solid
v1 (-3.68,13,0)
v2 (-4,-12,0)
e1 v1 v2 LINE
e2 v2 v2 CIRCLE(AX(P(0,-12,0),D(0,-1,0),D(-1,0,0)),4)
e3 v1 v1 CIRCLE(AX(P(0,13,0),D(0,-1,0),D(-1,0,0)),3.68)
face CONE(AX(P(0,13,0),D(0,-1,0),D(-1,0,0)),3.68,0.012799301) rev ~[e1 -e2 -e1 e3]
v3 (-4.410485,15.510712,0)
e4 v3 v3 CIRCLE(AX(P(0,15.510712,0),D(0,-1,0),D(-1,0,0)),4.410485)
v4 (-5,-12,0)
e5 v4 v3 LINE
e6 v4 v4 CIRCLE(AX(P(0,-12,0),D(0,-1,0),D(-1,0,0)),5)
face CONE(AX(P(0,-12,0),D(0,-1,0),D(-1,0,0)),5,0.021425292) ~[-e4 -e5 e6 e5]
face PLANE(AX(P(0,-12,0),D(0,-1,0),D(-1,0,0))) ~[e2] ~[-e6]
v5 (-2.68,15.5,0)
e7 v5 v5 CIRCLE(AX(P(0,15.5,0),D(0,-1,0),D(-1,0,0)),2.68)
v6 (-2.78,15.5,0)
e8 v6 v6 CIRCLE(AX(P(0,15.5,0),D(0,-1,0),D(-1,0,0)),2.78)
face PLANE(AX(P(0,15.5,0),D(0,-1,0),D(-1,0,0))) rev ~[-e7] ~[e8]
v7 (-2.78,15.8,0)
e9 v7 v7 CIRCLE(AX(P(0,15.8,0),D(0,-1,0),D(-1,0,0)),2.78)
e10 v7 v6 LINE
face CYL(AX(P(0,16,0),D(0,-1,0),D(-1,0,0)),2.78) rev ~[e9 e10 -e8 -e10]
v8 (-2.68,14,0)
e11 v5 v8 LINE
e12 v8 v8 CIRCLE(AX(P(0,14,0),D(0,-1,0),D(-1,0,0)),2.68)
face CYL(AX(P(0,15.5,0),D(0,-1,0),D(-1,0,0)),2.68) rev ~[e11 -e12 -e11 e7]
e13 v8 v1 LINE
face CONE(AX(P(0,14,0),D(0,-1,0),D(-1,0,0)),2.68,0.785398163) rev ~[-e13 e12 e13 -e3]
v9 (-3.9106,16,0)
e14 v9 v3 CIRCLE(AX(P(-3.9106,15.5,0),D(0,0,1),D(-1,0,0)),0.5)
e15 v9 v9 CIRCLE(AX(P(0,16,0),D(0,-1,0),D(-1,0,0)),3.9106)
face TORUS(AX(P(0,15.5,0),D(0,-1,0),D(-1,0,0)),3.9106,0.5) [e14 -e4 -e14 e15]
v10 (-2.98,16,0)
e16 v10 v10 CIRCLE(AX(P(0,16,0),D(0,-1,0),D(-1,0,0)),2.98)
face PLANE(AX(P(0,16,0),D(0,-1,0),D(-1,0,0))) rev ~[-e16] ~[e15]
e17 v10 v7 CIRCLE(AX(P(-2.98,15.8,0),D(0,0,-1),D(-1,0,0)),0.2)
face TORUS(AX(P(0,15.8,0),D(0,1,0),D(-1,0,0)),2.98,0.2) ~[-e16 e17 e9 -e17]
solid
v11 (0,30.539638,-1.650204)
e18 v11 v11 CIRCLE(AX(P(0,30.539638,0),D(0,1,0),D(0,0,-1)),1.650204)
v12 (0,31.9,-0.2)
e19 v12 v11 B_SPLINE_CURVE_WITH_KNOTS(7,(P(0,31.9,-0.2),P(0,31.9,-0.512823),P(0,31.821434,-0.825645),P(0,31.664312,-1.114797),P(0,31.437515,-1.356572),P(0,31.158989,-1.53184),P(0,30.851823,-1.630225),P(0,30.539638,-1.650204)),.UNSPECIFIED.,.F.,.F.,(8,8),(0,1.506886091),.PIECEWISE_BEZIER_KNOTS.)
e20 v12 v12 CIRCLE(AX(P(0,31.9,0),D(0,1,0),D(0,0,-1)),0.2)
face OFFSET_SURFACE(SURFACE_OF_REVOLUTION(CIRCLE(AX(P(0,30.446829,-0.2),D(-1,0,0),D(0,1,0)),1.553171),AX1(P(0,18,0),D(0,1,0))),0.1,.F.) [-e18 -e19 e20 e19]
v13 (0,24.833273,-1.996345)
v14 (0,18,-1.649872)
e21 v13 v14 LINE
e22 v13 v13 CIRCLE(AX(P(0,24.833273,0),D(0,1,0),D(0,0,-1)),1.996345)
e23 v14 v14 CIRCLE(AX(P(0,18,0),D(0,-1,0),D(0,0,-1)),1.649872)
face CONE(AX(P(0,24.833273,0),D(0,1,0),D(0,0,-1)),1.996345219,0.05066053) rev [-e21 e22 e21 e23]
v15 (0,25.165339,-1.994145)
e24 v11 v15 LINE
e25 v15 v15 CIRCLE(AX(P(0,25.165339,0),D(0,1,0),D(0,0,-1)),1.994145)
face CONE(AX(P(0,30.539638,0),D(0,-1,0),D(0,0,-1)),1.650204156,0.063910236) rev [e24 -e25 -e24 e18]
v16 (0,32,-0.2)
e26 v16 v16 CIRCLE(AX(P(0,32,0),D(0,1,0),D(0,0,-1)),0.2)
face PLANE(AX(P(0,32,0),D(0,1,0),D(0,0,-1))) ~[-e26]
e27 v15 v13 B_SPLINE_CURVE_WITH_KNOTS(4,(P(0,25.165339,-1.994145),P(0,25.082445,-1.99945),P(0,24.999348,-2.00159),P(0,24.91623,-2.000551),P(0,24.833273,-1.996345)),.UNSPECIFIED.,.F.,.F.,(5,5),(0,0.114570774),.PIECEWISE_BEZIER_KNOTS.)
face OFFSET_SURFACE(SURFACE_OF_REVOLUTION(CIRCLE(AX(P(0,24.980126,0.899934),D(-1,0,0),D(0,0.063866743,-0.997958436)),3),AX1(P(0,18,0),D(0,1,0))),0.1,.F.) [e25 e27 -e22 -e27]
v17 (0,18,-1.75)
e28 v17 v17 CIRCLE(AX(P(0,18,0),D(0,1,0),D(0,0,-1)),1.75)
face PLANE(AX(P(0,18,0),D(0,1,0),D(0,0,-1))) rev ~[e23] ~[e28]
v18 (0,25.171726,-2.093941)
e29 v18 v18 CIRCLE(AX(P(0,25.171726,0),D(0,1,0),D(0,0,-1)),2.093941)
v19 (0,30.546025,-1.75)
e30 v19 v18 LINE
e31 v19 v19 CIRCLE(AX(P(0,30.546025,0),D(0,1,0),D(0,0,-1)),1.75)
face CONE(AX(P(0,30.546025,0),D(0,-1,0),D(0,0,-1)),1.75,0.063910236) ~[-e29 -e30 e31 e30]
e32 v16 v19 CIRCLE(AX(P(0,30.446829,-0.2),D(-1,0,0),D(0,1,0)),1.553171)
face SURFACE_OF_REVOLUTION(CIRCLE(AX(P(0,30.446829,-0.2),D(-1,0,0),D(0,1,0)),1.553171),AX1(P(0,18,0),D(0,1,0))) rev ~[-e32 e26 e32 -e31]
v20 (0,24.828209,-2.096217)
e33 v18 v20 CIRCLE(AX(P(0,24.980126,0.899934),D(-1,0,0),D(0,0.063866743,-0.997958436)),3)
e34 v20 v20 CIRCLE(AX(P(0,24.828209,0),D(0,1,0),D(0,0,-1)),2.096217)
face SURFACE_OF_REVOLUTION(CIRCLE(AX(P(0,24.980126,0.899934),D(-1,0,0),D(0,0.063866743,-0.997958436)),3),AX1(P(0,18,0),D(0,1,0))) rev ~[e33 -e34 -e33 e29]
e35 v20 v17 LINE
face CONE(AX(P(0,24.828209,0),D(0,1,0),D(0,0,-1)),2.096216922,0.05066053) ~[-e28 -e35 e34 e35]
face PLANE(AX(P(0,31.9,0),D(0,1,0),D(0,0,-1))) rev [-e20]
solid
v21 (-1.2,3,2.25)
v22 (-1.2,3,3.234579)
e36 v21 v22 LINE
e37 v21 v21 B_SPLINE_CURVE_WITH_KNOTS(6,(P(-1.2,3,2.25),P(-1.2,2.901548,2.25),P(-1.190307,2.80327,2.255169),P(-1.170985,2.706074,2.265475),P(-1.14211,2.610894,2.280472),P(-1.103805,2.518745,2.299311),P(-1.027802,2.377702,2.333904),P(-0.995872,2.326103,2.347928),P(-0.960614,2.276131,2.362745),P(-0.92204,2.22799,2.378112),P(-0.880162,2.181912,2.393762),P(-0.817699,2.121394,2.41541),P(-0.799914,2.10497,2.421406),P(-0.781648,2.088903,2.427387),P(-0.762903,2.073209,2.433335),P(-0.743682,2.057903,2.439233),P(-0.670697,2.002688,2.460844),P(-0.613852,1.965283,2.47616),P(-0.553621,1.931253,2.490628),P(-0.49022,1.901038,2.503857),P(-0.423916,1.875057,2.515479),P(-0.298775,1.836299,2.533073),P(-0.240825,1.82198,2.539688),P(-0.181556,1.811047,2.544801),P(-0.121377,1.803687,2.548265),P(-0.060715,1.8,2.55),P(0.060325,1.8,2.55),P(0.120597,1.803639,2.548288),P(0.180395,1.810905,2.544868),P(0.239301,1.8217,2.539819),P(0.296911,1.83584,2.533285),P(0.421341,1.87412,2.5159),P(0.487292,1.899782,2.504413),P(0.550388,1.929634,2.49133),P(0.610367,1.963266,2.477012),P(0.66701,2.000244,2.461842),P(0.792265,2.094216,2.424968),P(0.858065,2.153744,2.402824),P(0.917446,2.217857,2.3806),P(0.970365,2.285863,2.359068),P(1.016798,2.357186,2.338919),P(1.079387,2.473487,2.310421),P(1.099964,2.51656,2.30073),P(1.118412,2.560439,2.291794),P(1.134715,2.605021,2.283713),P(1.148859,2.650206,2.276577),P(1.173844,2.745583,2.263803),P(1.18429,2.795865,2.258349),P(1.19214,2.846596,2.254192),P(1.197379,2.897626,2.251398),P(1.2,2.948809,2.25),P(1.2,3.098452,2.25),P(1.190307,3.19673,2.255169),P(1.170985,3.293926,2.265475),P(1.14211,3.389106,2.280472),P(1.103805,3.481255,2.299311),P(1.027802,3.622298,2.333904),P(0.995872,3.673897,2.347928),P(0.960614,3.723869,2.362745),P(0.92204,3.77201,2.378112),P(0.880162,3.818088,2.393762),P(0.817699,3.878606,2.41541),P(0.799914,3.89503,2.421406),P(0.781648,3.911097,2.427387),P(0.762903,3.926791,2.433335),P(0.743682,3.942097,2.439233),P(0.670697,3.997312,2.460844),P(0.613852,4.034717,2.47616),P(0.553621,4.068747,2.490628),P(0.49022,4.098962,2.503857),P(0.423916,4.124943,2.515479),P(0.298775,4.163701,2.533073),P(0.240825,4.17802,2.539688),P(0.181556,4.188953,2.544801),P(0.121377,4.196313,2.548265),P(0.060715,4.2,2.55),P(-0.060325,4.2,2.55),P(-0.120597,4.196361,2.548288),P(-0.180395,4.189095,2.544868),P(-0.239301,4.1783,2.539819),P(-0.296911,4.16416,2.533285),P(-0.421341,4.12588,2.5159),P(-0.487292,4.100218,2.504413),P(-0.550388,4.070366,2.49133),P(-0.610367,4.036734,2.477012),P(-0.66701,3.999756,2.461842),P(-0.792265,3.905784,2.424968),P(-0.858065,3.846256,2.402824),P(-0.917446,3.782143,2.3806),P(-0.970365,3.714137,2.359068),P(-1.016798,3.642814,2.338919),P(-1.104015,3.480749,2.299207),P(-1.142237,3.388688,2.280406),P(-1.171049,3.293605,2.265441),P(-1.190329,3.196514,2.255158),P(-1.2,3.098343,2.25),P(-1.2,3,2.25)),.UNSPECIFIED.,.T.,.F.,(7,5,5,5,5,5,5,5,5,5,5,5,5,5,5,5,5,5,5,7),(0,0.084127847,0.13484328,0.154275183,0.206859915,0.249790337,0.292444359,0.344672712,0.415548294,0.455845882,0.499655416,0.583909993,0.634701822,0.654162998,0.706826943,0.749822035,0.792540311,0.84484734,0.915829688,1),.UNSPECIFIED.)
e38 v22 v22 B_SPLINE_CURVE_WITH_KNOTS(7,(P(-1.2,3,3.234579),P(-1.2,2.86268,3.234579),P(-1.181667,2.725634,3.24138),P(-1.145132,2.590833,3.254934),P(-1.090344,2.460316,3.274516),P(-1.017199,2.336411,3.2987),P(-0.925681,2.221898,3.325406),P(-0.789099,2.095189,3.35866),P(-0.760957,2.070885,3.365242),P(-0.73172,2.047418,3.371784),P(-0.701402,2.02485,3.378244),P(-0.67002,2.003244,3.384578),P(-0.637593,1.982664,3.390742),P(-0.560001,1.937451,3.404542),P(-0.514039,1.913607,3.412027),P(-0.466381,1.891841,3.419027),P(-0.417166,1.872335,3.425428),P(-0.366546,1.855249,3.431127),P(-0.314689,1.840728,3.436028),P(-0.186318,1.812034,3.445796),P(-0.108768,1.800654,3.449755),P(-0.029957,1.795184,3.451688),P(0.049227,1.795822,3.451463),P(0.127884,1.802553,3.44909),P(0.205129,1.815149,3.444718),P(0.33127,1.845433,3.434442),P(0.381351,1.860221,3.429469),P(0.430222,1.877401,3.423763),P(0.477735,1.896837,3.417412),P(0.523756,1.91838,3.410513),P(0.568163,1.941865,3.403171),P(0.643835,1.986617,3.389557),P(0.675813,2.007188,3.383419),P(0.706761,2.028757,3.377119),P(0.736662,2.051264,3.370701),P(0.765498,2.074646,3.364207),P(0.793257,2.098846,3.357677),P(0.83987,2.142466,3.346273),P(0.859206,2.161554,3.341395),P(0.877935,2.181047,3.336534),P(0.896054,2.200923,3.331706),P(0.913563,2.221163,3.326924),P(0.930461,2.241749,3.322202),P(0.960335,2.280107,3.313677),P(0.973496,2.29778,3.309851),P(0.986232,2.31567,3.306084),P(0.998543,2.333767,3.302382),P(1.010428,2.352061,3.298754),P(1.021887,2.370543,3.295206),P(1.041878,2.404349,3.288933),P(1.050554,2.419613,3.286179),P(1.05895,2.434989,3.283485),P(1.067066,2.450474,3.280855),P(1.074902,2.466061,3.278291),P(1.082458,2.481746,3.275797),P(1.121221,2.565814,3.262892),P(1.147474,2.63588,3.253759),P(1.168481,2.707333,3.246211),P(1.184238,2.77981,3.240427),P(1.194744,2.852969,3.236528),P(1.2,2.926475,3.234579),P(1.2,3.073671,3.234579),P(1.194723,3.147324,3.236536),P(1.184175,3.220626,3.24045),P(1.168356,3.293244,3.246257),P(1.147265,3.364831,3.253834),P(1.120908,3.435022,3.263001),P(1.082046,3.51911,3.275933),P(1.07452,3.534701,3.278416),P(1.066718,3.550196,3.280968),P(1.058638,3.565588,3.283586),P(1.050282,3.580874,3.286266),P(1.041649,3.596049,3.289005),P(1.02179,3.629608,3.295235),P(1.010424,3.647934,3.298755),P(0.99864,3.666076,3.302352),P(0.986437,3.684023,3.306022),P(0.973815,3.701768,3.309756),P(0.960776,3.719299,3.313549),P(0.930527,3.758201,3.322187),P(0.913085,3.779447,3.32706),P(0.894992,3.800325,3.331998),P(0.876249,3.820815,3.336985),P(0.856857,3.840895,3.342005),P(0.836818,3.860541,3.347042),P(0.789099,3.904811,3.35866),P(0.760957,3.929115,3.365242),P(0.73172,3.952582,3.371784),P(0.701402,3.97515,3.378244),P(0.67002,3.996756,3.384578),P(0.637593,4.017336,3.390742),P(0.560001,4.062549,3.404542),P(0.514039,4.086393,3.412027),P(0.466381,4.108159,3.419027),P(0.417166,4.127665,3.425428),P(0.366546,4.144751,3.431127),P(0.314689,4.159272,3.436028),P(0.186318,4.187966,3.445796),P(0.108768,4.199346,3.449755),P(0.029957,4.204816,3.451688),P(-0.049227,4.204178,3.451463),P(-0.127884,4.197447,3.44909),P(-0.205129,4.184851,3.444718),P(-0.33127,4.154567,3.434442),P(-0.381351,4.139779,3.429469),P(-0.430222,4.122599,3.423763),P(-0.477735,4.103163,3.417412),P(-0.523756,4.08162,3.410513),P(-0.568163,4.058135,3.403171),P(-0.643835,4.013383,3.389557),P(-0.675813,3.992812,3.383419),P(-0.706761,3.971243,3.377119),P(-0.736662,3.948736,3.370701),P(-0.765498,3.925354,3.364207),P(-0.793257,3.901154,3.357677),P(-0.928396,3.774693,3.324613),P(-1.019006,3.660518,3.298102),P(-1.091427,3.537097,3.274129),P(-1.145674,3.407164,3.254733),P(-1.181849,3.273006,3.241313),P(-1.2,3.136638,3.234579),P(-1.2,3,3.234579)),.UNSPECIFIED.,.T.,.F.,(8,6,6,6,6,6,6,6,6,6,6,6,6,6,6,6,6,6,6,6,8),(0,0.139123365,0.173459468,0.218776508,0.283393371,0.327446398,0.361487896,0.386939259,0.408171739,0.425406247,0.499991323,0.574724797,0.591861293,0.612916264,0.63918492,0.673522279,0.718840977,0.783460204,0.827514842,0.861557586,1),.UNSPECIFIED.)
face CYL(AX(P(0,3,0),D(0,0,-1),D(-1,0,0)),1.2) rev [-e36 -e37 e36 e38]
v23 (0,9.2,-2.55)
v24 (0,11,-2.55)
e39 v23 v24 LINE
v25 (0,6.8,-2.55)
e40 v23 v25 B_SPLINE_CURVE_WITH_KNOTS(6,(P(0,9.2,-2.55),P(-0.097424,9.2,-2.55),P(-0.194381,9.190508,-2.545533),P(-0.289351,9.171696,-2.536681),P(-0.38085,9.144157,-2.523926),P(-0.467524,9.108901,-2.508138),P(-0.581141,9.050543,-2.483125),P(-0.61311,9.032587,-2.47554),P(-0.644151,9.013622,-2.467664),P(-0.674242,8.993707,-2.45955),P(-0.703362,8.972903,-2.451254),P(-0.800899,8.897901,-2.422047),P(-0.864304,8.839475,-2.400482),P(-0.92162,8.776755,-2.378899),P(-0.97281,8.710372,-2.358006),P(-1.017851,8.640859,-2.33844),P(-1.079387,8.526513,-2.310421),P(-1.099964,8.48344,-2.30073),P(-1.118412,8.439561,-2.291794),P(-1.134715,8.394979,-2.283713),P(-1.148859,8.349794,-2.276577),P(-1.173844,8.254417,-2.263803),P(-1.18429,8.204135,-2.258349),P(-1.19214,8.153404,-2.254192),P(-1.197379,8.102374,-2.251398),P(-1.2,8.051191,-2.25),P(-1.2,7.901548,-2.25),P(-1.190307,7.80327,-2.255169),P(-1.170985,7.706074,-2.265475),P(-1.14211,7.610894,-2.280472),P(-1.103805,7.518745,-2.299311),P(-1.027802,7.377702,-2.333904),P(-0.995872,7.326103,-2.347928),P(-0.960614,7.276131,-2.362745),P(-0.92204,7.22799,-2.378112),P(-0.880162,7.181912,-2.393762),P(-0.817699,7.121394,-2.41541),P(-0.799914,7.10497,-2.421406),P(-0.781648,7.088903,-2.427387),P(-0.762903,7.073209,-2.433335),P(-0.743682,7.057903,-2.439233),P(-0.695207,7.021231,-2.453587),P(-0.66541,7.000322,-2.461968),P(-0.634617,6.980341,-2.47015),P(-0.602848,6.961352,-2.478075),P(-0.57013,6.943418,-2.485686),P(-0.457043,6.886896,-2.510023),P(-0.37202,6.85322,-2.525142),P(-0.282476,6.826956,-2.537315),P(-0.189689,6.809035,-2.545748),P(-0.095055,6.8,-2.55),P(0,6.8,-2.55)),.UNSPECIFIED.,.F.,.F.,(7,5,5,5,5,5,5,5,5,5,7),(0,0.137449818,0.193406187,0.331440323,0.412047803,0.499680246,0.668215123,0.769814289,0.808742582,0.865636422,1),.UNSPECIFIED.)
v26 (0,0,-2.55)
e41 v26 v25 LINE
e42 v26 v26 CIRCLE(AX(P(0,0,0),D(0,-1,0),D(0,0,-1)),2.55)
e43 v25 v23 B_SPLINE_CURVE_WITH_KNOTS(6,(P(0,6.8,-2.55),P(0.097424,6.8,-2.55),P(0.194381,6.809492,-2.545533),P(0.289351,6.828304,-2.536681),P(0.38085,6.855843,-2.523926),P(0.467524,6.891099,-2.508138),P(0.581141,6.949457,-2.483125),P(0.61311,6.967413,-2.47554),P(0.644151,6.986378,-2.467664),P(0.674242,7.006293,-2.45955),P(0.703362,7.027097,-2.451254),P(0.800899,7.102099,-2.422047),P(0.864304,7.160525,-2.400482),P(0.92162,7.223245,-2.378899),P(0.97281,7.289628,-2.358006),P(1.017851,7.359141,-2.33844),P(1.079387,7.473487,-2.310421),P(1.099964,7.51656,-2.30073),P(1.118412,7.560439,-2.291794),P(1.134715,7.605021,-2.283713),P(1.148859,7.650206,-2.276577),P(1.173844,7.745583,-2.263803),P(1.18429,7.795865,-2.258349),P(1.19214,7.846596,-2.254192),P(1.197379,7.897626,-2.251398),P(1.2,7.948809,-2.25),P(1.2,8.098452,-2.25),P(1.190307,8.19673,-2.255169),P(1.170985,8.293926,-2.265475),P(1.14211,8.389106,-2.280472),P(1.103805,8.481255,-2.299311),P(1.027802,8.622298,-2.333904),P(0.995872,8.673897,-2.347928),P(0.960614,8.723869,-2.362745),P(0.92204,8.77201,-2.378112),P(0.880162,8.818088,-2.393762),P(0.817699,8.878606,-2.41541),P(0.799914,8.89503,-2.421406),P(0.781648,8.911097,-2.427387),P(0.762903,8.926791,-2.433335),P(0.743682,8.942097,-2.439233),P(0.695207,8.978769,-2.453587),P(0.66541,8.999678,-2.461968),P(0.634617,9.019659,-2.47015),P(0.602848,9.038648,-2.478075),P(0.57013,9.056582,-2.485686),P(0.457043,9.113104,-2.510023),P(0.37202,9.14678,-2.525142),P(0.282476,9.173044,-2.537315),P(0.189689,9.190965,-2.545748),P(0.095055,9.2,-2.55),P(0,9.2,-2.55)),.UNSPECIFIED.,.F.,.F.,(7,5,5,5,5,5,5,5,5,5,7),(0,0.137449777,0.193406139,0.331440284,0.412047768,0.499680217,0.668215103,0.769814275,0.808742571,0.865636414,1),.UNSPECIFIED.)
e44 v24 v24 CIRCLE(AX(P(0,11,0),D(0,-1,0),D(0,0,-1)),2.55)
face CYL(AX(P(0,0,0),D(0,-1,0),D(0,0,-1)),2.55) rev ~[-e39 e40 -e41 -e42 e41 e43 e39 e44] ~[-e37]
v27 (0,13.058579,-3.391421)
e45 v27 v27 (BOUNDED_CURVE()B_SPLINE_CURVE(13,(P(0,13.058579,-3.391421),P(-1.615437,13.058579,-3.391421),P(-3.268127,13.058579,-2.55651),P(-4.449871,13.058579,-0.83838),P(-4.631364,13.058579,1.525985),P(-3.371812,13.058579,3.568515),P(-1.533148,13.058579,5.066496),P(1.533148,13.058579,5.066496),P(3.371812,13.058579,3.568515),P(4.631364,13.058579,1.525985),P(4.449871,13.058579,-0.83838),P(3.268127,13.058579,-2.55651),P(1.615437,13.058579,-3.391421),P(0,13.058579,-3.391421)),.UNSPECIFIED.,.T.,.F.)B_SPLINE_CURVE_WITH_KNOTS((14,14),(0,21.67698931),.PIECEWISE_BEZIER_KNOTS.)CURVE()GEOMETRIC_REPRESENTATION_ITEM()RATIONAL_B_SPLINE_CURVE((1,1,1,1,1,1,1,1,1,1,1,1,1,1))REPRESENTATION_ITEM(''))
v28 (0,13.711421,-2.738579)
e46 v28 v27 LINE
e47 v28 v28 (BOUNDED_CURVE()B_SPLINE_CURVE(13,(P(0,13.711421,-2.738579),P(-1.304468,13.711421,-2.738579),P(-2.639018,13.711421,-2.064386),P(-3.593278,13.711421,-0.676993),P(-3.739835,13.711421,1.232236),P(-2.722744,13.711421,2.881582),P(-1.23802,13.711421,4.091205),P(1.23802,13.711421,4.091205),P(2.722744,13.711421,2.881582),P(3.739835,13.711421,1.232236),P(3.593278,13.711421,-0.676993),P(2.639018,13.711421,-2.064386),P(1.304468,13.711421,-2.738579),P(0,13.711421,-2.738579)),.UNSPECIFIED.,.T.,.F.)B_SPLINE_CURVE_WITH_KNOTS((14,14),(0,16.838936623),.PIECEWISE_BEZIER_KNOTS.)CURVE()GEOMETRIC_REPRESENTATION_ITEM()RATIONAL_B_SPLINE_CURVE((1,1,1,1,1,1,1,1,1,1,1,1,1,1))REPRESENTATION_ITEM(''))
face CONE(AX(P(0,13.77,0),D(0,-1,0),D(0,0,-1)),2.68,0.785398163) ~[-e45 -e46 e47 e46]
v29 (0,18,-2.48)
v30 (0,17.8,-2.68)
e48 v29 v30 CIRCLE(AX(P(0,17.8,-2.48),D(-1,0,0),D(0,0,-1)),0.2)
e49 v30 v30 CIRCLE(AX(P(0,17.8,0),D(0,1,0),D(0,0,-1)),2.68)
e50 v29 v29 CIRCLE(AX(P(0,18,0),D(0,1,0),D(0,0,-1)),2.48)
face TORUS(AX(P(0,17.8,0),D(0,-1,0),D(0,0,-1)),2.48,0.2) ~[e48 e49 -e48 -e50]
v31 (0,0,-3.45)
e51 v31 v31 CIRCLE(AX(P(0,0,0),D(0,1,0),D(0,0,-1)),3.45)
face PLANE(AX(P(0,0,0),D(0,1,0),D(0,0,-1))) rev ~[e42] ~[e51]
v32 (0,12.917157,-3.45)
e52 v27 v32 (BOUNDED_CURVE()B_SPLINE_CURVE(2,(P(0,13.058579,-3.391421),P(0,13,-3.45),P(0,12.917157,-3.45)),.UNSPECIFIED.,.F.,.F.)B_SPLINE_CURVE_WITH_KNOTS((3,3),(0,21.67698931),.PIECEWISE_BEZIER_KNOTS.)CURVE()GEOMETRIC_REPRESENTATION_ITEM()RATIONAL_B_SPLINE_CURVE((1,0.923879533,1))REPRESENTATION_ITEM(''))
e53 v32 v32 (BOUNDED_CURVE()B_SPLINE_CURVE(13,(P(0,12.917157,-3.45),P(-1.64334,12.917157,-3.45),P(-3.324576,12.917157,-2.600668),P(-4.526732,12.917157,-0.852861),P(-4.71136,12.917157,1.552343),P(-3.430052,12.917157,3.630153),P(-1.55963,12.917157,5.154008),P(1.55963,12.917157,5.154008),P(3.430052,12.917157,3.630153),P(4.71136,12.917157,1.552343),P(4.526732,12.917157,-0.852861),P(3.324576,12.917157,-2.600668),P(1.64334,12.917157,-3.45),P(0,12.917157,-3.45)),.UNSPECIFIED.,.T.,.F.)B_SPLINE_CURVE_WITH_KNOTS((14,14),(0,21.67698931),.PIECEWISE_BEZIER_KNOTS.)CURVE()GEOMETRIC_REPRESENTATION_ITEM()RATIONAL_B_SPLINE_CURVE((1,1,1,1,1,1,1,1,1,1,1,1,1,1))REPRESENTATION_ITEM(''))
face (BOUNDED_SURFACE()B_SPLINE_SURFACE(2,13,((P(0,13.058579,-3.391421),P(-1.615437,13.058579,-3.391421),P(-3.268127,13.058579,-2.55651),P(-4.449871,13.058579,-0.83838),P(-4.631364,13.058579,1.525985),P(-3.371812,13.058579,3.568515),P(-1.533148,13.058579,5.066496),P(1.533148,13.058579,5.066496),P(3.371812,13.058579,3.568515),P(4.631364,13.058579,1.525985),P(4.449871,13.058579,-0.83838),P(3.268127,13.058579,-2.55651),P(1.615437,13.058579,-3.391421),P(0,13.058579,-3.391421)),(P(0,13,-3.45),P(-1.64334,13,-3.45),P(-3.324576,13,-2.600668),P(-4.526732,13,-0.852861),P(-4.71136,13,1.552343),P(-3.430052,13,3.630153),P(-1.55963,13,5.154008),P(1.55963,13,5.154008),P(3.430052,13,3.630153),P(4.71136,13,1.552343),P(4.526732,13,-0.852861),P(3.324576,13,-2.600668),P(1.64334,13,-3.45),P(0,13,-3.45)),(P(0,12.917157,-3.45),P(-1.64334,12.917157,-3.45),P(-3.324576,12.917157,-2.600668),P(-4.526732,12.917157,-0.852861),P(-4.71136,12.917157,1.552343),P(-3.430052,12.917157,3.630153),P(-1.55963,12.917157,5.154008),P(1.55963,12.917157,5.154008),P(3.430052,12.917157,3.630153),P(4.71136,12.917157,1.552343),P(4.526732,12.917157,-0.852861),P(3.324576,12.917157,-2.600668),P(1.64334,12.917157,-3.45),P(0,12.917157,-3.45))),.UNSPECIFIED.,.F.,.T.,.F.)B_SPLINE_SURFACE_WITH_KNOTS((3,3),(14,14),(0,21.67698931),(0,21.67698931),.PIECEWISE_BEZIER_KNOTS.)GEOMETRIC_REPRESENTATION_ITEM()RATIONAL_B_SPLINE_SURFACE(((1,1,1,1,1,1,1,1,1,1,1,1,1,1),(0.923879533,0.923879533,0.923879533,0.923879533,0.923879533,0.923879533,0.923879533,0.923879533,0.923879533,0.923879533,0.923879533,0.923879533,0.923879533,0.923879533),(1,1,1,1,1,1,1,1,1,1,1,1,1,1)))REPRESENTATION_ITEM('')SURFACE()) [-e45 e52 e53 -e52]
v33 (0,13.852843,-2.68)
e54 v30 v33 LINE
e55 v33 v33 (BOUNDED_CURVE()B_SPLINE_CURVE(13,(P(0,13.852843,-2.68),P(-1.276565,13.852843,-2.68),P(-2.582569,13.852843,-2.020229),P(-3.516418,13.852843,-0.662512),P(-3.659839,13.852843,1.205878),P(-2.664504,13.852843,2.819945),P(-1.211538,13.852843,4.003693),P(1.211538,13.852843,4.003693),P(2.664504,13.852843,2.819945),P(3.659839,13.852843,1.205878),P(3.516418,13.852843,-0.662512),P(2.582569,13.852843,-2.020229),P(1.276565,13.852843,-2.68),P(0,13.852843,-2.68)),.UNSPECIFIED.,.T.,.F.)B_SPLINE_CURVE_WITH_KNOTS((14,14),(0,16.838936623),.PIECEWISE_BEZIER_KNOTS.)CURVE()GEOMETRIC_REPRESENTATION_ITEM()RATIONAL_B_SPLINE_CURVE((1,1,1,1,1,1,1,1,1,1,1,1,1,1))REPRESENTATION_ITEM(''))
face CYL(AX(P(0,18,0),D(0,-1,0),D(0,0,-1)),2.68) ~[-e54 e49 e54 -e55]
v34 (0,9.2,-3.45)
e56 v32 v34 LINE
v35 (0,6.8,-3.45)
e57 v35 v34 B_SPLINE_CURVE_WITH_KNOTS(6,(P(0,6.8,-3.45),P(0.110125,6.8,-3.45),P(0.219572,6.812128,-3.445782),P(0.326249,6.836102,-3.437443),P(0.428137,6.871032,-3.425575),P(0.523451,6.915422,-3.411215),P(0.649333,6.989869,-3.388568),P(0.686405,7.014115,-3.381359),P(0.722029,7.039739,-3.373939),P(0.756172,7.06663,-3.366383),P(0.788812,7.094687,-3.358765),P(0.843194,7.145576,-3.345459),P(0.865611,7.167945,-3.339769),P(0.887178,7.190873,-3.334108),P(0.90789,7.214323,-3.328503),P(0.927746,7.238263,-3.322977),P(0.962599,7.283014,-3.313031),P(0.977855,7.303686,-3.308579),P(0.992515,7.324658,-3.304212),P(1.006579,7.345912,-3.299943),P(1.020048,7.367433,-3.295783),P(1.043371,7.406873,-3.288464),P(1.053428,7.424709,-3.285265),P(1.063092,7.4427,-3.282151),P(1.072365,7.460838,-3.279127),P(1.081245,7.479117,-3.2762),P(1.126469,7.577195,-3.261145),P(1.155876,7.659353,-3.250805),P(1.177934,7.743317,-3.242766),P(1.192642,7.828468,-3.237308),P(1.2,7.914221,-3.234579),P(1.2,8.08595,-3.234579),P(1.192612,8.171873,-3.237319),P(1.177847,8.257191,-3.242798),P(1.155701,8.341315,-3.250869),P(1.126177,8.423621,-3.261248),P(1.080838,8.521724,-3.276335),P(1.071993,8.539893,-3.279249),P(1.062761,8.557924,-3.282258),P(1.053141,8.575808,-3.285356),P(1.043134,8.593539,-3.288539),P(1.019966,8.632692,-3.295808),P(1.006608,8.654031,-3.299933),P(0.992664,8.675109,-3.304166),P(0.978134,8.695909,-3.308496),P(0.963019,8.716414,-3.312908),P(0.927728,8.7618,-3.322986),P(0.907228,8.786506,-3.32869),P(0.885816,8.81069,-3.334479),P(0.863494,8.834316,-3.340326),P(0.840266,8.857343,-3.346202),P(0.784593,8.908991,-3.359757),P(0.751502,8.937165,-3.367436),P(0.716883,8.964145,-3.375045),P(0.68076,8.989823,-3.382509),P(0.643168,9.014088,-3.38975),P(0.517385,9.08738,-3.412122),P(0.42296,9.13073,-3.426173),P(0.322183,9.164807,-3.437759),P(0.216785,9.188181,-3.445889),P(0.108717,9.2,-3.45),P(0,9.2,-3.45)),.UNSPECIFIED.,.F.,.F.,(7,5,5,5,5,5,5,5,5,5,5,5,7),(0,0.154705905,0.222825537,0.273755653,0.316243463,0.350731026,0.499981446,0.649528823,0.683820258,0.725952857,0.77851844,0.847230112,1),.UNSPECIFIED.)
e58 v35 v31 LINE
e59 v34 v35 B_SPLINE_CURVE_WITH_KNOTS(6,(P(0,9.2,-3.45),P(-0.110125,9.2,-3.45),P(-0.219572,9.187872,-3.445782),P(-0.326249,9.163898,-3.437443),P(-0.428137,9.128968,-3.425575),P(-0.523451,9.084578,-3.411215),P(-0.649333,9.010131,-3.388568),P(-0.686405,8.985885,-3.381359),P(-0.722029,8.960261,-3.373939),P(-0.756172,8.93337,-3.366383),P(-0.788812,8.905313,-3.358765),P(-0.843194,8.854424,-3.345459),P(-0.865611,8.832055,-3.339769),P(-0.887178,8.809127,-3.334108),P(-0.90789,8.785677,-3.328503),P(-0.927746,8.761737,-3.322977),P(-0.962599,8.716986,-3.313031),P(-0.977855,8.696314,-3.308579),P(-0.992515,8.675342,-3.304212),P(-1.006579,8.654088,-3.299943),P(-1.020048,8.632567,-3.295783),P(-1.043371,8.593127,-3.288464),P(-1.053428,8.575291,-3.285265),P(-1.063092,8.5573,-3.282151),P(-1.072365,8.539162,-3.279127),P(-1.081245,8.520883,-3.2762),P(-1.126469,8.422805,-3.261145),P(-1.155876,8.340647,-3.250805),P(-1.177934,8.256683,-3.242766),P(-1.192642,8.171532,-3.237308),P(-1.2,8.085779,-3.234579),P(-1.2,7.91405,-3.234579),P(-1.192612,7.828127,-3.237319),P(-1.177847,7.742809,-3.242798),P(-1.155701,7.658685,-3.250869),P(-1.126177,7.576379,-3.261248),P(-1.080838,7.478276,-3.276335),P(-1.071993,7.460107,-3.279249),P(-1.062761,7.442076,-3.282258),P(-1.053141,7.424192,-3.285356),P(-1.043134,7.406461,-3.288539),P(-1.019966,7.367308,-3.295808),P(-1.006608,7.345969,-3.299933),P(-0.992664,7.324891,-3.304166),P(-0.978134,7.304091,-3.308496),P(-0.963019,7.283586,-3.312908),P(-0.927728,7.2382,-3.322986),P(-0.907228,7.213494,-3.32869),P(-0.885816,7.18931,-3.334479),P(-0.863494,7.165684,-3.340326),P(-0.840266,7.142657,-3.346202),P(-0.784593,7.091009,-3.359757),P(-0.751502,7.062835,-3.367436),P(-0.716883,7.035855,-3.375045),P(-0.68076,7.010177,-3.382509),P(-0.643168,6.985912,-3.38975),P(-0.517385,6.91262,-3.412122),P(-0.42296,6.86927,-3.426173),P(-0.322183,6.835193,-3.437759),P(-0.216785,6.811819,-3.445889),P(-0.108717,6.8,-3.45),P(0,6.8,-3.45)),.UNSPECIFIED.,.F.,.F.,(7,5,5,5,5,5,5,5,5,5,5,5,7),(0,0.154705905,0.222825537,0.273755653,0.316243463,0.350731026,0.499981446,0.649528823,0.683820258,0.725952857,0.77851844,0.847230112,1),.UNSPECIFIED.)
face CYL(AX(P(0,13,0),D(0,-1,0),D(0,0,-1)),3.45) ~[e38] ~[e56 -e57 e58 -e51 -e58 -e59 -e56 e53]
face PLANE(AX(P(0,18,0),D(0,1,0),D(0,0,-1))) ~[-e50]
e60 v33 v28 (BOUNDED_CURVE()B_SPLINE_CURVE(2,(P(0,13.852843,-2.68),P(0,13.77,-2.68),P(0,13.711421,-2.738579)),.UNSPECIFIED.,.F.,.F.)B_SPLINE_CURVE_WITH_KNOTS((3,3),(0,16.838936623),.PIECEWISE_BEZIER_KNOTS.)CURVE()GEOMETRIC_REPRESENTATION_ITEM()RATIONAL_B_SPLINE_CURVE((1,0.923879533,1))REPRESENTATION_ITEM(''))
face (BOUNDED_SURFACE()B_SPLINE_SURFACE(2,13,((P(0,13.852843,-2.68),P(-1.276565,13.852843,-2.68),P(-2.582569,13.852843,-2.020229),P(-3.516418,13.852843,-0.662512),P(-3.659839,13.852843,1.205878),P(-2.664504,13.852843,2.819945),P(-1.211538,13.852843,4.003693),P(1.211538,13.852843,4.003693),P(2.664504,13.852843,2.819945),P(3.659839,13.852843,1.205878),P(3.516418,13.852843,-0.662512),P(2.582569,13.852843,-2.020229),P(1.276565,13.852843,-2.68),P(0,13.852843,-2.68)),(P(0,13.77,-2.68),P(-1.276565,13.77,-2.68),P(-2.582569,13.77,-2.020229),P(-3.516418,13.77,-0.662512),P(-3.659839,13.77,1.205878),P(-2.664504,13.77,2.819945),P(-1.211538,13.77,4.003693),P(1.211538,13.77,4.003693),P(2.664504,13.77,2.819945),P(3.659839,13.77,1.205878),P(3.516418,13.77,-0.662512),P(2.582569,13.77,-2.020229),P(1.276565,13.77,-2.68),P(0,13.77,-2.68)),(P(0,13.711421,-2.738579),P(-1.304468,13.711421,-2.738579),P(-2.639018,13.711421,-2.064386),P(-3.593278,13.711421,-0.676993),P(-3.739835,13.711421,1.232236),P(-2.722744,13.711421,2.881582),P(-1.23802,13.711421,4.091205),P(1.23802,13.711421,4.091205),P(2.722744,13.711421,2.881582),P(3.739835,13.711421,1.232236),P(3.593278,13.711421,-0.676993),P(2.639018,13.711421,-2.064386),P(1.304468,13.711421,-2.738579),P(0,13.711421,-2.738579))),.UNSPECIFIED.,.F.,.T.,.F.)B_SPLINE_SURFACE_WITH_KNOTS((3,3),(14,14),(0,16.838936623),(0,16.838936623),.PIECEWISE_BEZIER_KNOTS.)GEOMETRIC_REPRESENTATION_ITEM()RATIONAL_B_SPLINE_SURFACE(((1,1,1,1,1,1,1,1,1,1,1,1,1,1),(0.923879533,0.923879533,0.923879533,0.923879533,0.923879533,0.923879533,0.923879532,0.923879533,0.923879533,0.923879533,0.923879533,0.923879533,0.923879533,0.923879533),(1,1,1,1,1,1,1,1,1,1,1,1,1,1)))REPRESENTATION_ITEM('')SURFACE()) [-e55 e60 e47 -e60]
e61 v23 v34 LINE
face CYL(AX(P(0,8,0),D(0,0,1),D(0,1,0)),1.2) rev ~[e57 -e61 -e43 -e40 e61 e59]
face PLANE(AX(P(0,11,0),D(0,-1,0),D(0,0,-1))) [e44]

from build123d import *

# Parameters (mm, degrees)
SKETCH2_R          = 2.55
CUT_EXTRUDE1_DEPTH = 11
SHELL7_T           = -0.1
SKETCH4_R          = 1.2
CUT_EXTRUDE2_DEPTH = 33.369816286
SKETCH5_R          = 1.2
CUT_EXTRUDE3_DEPTH = 33.369816307
FILLET1_R          = 0.2
FILLET2_R          = 0.2
FILLET3_R          = 0.5


with BuildPart() as part:
    # Sketch1 → Revolve1 (revolve)
    with BuildSketch(Plane.XY, mode=Mode.PRIVATE) as revolve1_sk:
        Polygon((0, 0), (0, 18), (2.68, 18), (2.68, 13.77), (3.45, 13), (3.45, 0), align=None)
    revolve(revolve1_sk.sketch.rotate(Axis((0, 0, 0), (0, 1, 0)), 90), axis=Axis((0, 0, 0), (0, 1, 0)))

    # Sketch2 → Cut-Extrude1 (cut)
    with BuildSketch(Plane.XZ):
        with Locations(Location((0, 0, 0), (0, 0, 270))):
            Circle(SKETCH2_R)
    extrude(amount=-CUT_EXTRUDE1_DEPTH, mode=Mode.SUBTRACT)

    # Sketch4 → Cut-Extrude2 (cut, through all)
    with BuildSketch(Plane.XY):
        with Locations(Location((0, 3, 0), (0, 0, 180))):
            Circle(SKETCH4_R)
    extrude(amount=CUT_EXTRUDE2_DEPTH, mode=Mode.SUBTRACT)

    # Sketch5 → Cut-Extrude3 (cut, through all)
    with BuildSketch(Plane.XY):
        with Locations(Location((0, 8, 0), (0, 0, 90))):
            Circle(SKETCH5_R)
    extrude(amount=-CUT_EXTRUDE3_DEPTH, mode=Mode.SUBTRACT)

    # Fillet1
    fillet1_edges = [part.edges().sort_by_distance(p)[0] for p in [
        (0, 18, 2.68),
        (0, 13.77, 2.68),
        (0, 13, 3.45),
    ]]
    fillet(fillet1_edges, radius=FILLET1_R)


with BuildPart() as body_2:
    # Sketch3 → Revolve2 (revolve)
    with BuildSketch(Plane.XY, mode=Mode.PRIVATE) as revolve2_sk:
        with BuildLine():
            Line((0, 18), (0, 32))
            Line((0, 32), (0.2, 32))
            ThreePointArc((0.2, 32), (1.262608009, 31.579615074), (1.75, 30.546025061))
            Line((1.75, 30.546025061), (2.09394114, 25.171725799))
            ThreePointArc((2.09394114, 25.171725799), (2.1, 25), (2.096216922, 24.828208998))
            Line((2.096216922, 24.828208998), (1.75, 18))
            Line((1.75, 18), (0, 18))
        make_face()
    revolve(revolve2_sk.sketch.rotate(Axis((0, 18, 0), (0, 1, 0)), 90), axis=Axis((0, 18, 0), (0, 1, 0)))

    # Shell7
    shell7_openings = [body_2.faces().sort_by_distance(p)[0] for p in [
        (0, 18, 0),
    ]]
    offset(amount=SHELL7_T, openings=shell7_openings, kind=Kind.INTERSECTION)


with BuildPart() as body_3:
    # Sketch6 → Revolve3 (revolve)
    with BuildSketch(Plane.XY, mode=Mode.PRIVATE) as revolve3_sk:
        Polygon((4, -12), (5, -12), (4.4, 16), (2.78, 16), (2.78, 15.5), (2.68, 15.5), (2.68, 14), (3.68, 13), align=None)
    revolve(revolve3_sk.sketch.rotate(Axis((0, 15.5, 0), (0, -1, 0)), 180), axis=Axis((0, 15.5, 0), (0, -1, 0)))

    # Fillet2
    fillet2_edges = [body_3.edges().sort_by_distance(p)[0] for p in [
        (2.78, 16, 0),
    ]]
    fillet(fillet2_edges, radius=FILLET2_R)

    # Fillet3
    fillet3_edges = [body_3.edges().sort_by_distance(p)[0] for p in [
        (4.4, 16, 0),
    ]]
    fillet(fillet3_edges, radius=FILLET3_R)


solid = Compound([part.part, body_2.part, body_3.part])
